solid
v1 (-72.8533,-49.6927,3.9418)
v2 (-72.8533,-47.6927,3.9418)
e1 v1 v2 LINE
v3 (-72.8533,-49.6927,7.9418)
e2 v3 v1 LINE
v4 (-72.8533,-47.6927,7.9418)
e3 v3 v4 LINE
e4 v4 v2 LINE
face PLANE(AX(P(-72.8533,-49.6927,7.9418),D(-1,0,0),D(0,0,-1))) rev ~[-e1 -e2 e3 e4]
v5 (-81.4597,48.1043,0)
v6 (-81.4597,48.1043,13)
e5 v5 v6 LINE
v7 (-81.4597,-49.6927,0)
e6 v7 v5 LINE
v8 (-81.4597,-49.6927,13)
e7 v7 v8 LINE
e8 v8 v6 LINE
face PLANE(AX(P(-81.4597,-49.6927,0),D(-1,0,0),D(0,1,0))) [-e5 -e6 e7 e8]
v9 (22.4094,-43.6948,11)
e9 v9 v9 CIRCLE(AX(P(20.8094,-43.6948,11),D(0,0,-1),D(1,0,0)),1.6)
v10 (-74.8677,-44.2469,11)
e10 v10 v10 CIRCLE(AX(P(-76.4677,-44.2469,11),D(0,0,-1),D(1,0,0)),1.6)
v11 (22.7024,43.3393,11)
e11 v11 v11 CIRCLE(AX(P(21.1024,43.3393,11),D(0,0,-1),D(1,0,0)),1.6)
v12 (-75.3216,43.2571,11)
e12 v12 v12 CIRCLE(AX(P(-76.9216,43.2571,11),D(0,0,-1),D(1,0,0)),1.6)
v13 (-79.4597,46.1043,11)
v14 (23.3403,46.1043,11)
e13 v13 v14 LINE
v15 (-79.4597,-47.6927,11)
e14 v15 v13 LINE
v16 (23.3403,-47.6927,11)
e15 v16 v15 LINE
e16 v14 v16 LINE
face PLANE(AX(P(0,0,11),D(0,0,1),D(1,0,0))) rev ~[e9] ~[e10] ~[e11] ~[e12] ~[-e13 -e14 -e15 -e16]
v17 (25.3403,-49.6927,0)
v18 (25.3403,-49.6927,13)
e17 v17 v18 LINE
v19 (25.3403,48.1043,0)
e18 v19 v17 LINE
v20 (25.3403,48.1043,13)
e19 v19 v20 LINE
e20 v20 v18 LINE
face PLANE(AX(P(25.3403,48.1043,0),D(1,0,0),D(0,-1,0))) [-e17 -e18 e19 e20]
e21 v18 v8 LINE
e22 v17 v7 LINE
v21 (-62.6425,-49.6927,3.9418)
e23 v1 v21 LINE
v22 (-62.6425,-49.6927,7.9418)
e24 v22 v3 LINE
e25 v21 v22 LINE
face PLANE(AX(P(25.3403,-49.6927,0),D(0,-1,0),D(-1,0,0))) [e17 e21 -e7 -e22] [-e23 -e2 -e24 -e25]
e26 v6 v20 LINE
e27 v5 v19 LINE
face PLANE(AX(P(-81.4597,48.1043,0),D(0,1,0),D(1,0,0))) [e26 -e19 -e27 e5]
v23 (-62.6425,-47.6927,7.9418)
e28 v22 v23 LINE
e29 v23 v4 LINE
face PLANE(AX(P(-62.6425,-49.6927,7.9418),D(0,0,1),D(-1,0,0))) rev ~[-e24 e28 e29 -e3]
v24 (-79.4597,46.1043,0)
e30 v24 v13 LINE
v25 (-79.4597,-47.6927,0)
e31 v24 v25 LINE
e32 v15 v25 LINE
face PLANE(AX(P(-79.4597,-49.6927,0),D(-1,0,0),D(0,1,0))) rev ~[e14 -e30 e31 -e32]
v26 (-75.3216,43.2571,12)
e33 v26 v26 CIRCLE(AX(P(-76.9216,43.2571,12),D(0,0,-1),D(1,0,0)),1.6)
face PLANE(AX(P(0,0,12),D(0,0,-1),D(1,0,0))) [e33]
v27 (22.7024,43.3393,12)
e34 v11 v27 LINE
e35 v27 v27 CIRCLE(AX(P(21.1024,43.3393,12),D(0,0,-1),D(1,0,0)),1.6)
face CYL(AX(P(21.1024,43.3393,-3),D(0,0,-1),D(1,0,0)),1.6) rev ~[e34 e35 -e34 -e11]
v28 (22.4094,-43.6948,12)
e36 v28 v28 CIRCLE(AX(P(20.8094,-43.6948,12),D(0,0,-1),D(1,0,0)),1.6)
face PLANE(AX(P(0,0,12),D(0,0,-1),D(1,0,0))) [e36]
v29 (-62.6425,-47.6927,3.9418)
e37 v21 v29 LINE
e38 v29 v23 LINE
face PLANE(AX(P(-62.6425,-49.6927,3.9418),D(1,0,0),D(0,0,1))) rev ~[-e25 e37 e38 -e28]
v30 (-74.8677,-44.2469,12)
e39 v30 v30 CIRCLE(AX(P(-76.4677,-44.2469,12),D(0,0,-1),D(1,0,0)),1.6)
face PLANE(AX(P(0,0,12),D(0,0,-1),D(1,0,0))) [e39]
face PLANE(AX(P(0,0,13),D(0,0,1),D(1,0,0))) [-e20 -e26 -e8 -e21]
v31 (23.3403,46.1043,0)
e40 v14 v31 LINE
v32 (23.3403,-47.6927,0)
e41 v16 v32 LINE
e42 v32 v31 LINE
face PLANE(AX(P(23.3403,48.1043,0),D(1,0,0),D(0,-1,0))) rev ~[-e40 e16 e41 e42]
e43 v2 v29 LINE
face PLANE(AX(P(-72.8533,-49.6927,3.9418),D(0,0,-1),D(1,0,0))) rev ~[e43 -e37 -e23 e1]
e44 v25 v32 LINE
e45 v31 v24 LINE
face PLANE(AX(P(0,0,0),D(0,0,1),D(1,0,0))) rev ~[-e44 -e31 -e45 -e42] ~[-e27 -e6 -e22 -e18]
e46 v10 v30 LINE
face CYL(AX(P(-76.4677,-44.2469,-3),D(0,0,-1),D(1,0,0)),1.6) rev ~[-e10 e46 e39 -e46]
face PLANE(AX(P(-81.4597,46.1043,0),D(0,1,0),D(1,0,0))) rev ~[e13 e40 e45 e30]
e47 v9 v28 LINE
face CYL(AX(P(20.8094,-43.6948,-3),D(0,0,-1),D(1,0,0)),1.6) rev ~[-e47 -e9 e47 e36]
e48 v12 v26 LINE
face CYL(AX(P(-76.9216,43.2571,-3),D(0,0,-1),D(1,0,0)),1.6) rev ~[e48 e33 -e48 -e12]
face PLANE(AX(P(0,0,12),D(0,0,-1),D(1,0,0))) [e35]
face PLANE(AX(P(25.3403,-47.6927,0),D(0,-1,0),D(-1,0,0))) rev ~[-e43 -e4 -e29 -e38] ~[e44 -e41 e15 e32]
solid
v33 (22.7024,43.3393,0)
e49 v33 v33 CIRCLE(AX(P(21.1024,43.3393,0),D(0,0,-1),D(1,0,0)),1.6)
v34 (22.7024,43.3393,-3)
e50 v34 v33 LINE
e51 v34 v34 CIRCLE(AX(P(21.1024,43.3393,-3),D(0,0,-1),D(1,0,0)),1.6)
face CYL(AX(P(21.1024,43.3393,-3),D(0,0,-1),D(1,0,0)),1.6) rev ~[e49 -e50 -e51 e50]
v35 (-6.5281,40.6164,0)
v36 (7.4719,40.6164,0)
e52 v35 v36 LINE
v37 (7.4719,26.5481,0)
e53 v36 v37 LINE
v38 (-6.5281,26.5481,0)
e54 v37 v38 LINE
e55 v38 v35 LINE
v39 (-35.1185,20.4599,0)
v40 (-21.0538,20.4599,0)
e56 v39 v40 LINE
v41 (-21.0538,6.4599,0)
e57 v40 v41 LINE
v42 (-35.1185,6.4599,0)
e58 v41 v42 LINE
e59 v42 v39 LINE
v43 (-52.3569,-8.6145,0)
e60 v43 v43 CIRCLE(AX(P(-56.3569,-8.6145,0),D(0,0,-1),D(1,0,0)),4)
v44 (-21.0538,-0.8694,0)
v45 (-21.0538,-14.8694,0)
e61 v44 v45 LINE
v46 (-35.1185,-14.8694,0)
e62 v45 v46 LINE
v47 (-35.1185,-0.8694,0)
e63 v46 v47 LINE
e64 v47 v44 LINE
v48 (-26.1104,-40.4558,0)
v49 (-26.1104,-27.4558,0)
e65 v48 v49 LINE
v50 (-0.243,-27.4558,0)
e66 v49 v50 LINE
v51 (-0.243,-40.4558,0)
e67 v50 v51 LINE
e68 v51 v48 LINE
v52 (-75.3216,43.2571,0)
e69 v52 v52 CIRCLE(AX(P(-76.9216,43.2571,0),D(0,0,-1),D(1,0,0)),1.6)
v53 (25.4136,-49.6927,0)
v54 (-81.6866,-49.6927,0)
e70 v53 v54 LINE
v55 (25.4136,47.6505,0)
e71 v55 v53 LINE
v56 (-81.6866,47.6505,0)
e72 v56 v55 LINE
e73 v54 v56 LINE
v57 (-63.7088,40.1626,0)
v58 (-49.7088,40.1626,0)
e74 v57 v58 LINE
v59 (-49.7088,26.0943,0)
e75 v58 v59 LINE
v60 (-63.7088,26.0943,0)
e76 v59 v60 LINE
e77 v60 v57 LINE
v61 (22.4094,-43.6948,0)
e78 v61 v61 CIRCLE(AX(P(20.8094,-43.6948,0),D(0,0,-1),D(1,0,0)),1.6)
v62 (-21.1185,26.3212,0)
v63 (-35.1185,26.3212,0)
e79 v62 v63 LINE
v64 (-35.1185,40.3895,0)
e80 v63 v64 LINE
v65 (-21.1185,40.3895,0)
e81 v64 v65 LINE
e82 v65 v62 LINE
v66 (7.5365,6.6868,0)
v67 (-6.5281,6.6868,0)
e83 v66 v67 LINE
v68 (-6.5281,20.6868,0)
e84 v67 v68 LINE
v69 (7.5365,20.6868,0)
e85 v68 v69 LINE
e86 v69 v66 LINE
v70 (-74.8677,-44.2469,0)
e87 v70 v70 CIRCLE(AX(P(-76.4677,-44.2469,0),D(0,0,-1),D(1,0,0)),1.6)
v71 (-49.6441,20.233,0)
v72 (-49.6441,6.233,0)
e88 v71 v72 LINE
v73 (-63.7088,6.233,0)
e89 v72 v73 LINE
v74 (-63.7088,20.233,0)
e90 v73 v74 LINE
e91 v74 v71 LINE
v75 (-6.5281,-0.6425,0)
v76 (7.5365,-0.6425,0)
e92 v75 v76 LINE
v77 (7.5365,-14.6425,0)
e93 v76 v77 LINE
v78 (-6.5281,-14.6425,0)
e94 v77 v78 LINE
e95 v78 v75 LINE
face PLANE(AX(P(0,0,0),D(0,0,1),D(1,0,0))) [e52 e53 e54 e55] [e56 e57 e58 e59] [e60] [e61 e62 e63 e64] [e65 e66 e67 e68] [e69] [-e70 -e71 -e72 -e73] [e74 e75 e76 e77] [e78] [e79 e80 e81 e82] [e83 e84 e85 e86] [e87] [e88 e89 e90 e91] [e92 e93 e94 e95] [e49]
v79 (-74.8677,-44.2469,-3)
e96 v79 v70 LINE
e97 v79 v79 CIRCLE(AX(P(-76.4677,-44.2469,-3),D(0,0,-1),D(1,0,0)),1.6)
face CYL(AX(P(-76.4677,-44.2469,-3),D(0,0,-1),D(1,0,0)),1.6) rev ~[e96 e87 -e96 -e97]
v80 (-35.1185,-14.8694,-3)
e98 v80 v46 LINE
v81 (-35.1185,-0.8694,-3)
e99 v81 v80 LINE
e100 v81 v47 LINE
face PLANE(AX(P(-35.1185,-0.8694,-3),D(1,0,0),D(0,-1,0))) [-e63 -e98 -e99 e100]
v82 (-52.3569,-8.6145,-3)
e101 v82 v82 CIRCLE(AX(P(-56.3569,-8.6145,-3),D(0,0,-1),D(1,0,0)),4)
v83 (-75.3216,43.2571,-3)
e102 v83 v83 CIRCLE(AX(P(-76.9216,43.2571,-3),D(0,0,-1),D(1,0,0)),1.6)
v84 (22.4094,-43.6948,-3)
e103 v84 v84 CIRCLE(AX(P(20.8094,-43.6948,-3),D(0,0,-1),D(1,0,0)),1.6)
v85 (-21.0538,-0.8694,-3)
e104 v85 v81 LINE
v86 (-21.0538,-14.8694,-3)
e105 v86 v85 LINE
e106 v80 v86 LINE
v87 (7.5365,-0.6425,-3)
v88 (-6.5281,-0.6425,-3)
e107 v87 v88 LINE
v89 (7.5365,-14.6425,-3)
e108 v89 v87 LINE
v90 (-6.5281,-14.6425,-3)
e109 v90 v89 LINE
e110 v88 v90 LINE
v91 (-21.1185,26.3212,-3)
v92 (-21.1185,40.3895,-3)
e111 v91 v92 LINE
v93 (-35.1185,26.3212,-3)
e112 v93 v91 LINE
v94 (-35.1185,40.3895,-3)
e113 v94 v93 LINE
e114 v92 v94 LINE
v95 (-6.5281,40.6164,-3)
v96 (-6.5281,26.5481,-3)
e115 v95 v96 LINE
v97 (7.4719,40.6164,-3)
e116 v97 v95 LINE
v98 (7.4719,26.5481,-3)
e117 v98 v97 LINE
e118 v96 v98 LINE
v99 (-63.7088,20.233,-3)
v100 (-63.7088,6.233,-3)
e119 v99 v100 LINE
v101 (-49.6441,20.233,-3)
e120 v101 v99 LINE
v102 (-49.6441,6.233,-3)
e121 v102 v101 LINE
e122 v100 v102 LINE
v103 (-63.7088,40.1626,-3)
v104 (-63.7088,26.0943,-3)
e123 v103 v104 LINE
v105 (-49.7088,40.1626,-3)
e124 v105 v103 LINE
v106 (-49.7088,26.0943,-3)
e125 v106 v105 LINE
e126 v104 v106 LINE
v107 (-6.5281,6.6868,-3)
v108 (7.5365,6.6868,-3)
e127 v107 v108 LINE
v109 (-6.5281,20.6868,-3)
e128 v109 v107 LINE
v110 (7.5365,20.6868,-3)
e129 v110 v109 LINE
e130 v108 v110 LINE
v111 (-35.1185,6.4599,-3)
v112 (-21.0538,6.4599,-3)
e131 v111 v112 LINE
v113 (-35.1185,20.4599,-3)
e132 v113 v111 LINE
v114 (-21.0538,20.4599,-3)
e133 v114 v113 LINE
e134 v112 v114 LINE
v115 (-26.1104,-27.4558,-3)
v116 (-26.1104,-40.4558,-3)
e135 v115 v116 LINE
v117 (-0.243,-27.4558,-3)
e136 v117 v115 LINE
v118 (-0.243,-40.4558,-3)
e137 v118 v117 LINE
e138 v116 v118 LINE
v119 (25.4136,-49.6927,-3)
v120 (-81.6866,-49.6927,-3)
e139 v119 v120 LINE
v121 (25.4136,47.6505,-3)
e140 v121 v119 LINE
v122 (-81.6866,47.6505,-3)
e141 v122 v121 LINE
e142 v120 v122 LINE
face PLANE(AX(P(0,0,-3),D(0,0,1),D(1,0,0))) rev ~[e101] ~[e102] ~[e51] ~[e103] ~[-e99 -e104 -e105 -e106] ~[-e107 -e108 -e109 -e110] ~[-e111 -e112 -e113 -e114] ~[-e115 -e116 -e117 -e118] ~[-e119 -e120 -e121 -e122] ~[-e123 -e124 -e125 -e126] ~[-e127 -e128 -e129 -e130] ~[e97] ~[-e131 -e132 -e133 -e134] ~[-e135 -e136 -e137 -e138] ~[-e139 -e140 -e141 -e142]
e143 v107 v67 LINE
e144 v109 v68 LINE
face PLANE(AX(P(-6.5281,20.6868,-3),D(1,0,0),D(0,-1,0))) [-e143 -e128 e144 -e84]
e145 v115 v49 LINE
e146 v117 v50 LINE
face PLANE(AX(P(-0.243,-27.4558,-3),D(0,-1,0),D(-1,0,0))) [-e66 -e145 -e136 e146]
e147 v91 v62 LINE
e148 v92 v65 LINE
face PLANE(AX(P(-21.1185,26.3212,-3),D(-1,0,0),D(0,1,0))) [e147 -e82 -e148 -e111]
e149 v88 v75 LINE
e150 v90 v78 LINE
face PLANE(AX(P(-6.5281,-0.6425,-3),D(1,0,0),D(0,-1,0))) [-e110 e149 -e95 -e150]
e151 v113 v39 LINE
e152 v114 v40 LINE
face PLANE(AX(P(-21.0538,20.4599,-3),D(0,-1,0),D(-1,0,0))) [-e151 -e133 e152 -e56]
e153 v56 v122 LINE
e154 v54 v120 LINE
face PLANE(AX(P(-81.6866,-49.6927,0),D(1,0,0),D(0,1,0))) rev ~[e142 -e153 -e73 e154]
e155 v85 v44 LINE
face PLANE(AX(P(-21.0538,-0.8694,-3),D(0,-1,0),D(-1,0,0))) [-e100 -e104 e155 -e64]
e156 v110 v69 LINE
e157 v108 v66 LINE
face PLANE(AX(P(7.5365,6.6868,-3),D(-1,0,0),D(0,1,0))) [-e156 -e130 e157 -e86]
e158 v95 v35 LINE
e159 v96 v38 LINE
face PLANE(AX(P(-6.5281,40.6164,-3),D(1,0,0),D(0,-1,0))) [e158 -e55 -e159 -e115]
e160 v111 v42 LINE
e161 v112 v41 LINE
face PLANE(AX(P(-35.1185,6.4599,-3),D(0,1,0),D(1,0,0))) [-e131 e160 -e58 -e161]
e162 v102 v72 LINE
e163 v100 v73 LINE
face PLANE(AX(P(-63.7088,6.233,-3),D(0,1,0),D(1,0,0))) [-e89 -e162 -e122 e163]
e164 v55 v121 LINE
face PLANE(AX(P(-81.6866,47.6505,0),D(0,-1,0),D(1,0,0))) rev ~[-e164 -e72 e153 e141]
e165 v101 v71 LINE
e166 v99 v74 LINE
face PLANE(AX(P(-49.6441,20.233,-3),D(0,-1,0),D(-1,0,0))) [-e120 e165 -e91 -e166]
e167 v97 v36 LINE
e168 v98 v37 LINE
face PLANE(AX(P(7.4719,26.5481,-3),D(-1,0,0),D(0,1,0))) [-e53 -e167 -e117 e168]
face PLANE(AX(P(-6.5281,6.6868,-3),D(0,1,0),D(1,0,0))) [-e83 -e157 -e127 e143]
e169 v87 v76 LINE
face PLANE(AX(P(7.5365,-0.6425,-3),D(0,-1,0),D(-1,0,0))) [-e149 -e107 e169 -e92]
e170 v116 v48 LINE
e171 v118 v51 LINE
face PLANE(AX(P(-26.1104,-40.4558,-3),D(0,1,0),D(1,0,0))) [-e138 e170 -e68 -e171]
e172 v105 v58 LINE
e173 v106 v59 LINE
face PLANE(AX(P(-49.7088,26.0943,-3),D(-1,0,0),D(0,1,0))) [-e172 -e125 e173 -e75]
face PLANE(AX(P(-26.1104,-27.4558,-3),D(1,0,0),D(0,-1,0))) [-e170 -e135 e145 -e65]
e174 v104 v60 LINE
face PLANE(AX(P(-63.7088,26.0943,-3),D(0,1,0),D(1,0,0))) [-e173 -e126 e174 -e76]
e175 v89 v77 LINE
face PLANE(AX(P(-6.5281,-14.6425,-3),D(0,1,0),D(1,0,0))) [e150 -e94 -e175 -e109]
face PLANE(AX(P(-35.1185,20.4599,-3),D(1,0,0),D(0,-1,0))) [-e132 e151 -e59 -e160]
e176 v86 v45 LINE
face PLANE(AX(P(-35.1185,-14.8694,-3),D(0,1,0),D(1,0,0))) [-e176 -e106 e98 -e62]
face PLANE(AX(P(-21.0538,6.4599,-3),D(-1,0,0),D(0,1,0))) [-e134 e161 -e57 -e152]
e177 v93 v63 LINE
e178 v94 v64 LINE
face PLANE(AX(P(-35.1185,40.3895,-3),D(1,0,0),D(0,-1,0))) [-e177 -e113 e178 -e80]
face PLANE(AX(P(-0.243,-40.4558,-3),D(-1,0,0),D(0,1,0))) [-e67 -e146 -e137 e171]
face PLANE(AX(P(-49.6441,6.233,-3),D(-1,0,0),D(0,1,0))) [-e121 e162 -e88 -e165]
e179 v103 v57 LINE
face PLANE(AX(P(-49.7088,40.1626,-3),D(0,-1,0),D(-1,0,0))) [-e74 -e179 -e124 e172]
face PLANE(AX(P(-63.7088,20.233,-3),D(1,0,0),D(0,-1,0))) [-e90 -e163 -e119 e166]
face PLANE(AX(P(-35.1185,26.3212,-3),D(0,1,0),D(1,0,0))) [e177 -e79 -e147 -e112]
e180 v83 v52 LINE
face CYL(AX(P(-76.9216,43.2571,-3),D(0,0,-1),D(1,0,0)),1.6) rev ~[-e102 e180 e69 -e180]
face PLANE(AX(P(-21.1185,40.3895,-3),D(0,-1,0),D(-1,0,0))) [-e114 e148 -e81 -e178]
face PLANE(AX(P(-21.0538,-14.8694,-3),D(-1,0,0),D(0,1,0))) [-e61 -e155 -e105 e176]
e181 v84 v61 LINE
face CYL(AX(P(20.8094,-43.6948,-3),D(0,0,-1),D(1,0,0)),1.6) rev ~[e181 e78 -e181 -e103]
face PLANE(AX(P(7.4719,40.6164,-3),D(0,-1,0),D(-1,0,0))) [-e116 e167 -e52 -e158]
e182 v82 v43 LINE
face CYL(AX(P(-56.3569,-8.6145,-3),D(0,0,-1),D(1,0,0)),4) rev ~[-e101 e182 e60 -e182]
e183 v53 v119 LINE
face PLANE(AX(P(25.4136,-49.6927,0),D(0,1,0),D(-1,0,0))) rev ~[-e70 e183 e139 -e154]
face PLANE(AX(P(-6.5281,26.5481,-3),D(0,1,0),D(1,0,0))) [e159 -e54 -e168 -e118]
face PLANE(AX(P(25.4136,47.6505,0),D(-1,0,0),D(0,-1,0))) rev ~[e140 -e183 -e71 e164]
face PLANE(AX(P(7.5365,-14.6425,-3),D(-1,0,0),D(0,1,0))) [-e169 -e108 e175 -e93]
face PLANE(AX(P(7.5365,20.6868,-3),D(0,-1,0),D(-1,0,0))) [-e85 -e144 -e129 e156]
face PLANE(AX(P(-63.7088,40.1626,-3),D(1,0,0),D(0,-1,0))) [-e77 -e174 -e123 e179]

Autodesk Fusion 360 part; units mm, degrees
sketch "Sketch1" plane through (0, 0, 0) normal (0, 0, 1) x (1, 0, 0)
  line L0 (-81.4597, 48.1043) -> (25.3403, 48.1043)
  line L1 (25.3403, 48.1043) -> (25.3403, -49.6927)
  line L2 (25.3403, -49.6927) -> (-81.4597, -49.6927)
  line L3 (-81.4597, -49.6927) -> (-81.4597, 48.1043)
  dimension "d1" = 106.8
extrude "Extrude1" add sketch "Sketch1" along normal blind 13 makes body 1
shell "Shell1" thickness 2 removed faces 1 at (-45.8597, 15.5053, 0) on bodies 1
sketch "Sketch2" plane through (0, 0, 0) normal (0, 0, 1) x (1, 0, 0)
  line L0 (-81.6866, 47.6505) -> (25.4136, 47.6505)
  line L1 (25.4136, 47.6505) -> (25.4136, -49.6927)
  line L2 (25.4136, -49.6927) -> (-81.6866, -49.6927)
  line L3 (-81.6866, -49.6927) -> (-81.6866, 47.6505)
extrude "Extrude2" add sketch "Sketch2" against normal blind 3 separate body makes body 2
sketch "Sketch3" plane through (0, 0, -3) normal (0, 0, -1) x (1, 0, 0)
  line L0 (25.4136, 49.6927) -> (-81.6866, 49.6927)
  line L1 (-81.6866, 49.6927) -> (-81.6866, -47.6505)
  line L2 (-81.6866, -47.6505) -> (25.4136, -47.6505)
  line L3 (25.4136, -47.6505) -> (25.4136, 49.6927)
  line L4 (7.4719, -40.6164) -> (-6.5281, -40.6164)
  line L5 (-6.5281, -40.6164) -> (-6.5281, -26.5481)
  line L6 (-6.5281, -26.5481) -> (7.4719, -26.5481)
  line L7 (7.4719, -26.5481) -> (7.4719, -40.6164)
  line L8 (7.5365, -20.6868) -> (-6.5281, -20.6868)
  line L9 (-6.5281, -20.6868) -> (-6.5281, -6.6868)
  line L10 (-6.5281, -6.6868) -> (7.5365, -6.6868)
  line L11 (7.5365, -6.6868) -> (7.5365, -20.6868)
  line L12 (7.5365, 0.6425) -> (-6.5281, 0.6425)
  line L13 (-6.5281, 0.6425) -> (-6.5281, 14.6425)
  line L14 (-6.5281, 14.6425) -> (7.5365, 14.6425)
  line L15 (7.5365, 14.6425) -> (7.5365, 0.6425)
  line L16 (-21.1185, -40.3895) -> (-35.1185, -40.3895)
  line L17 (-21.0538, 14.8694) -> (-21.0538, 0.8694)
  line L18 (-35.1185, -20.4599) -> (-35.1185, -6.4599)
  line L19 (-21.1185, -26.3212) -> (-21.1185, -40.3895)
  line L20 (-35.1185, 14.8694) -> (-21.0538, 14.8694)
  line L21 (-21.0538, -20.4599) -> (-35.1185, -20.4599)
  line L22 (-21.0538, 0.8694) -> (-35.1185, 0.8694)
  line L23 (-21.0538, -6.4599) -> (-21.0538, -20.4599)
  line L24 (-35.1185, -26.3212) -> (-21.1185, -26.3212)
  line L25 (-35.1185, -6.4599) -> (-21.0538, -6.4599)
  line L26 (-35.1185, 0.8694) -> (-35.1185, 14.8694)
  line L27 (-35.1185, -40.3895) -> (-35.1185, -26.3212)
  line L28 (7.4719, -40.6164) -> (-6.5281, -40.6164)
  line L29 (7.5365, 14.6425) -> (7.5365, 0.6425)
  line L30 (-6.5281, -20.6868) -> (-6.5281, -6.6868)
  line L31 (7.4719, -26.5481) -> (7.4719, -40.6164)
  line L32 (-6.5281, 14.6425) -> (7.5365, 14.6425)
  line L33 (7.5365, -20.6868) -> (-6.5281, -20.6868)
  line L34 (7.5365, 0.6425) -> (-6.5281, 0.6425)
  line L35 (7.5365, -6.6868) -> (7.5365, -20.6868)
  line L36 (-6.5281, -26.5481) -> (7.4719, -26.5481)
  line L37 (-6.5281, -6.6868) -> (7.5365, -6.6868)
  line L38 (-6.5281, 0.6425) -> (-6.5281, 14.6425)
  line L39 (-6.5281, -40.6164) -> (-6.5281, -26.5481)
  line L40 (-49.7088, -40.1626) -> (-63.7088, -40.1626)
  line L41 (-63.7088, -20.233) -> (-63.7088, -6.233)
  line L42 (-49.7088, -26.0943) -> (-49.7088, -40.1626)
  line L43 (-49.6441, -20.233) -> (-63.7088, -20.233)
  line L44 (-49.6441, -6.233) -> (-49.6441, -20.233)
  line L45 (-63.7088, -26.0943) -> (-49.7088, -26.0943)
  line L46 (-63.7088, -6.233) -> (-49.6441, -6.233)
  line L47 (-63.7088, -40.1626) -> (-63.7088, -26.0943)
  dimension "d7" = 14
  dimension "d8" = 14
  dimension "d9" = 14
  dimension "d10" = 14
  dimension "d11" = 14
  dimension "d12" = 14
  dimension "d13" = 14
  dimension "d14" = 14
  dimension "d15" = 14
  dimension "d16" = 14
  dimension "d17" = 14
sketch "Sketch4" plane through (0, 0, -3) normal (0, 0, -1) x (1, 0, 0)
  circle A0 centre (-56.3569, 8.6145) radius 4
  dimension "d19" = 8
extrude "Extrude3" cut sketch "Sketch3" sketch "Sketch4" against normal blind 5 contours L4 L5 L6 L7 L28 L31 L36 L39 | L8 L9 L10 L11 L30 L33 L35 L37 | L12 L13 L14 L15 L29 L32 L34 L38 | L16 L19 L24 L27 | L17 L20 L22 L26 | L18 L21 L23 L25 | L40 L42 L45 L47 | L41 L43 L44 L46 of sketch 2 bodies 2
sketch "Sketch5" plane through (0, 0, -3) normal (0, 0, -1) x (1, 0, 0)
  line L0 (25.4136, 49.6927) -> (-81.6866, 49.6927)
  line L1 (-81.6866, 49.6927) -> (-81.6866, -47.6505)
  line L2 (-81.6866, -47.6505) -> (25.4136, -47.6505)
  line L3 (25.4136, -47.6505) -> (25.4136, 49.6927)
  circle A0 centre (-56.3569, 8.6145) radius 4
  line L4 (7.5365, -20.6868) -> (-6.5281, -20.6868)
  line L5 (-6.5281, -20.6868) -> (-6.5281, -6.6868)
  line L6 (-6.5281, -6.6868) -> (7.5365, -6.6868)
  line L7 (7.5365, -6.6868) -> (7.5365, -20.6868)
  line L8 (-21.1185, -26.3212) -> (-21.1185, -40.3895)
  line L9 (-21.1185, -40.3895) -> (-35.1185, -40.3895)
  line L10 (-35.1185, -40.3895) -> (-35.1185, -26.3212)
  line L11 (-35.1185, -26.3212) -> (-21.1185, -26.3212)
  line L12 (7.5365, 14.6425) -> (7.5365, 0.6425)
  line L13 (7.5365, 0.6425) -> (-6.5281, 0.6425)
  line L14 (-6.5281, 0.6425) -> (-6.5281, 14.6425)
  line L15 (-6.5281, 14.6425) -> (7.5365, 14.6425)
  line L16 (-49.7088, -26.0943) -> (-49.7088, -40.1626)
  line L17 (-49.7088, -40.1626) -> (-63.7088, -40.1626)
  line L18 (-63.7088, -40.1626) -> (-63.7088, -26.0943)
  line L19 (-63.7088, -26.0943) -> (-49.7088, -26.0943)
  line L20 (-21.0538, 14.8694) -> (-21.0538, 0.8694)
  line L21 (-21.0538, 0.8694) -> (-35.1185, 0.8694)
  line L22 (-35.1185, 0.8694) -> (-35.1185, 14.8694)
  line L23 (-35.1185, 14.8694) -> (-21.0538, 14.8694)
  line L24 (-21.0538, -20.4599) -> (-35.1185, -20.4599)
  line L25 (-35.1185, -20.4599) -> (-35.1185, -6.4599)
  line L26 (-35.1185, -6.4599) -> (-21.0538, -6.4599)
  line L27 (-21.0538, -6.4599) -> (-21.0538, -20.4599)
  line L28 (7.4719, -26.5481) -> (7.4719, -40.6164)
  line L29 (7.4719, -40.6164) -> (-6.5281, -40.6164)
  line L30 (-6.5281, -40.6164) -> (-6.5281, -26.5481)
  line L31 (-6.5281, -26.5481) -> (7.4719, -26.5481)
  line L32 (-49.6441, -20.233) -> (-63.7088, -20.233)
  line L33 (-63.7088, -20.233) -> (-63.7088, -6.233)
  line L34 (-63.7088, -6.233) -> (-49.6441, -6.233)
  line L35 (-49.6441, -6.233) -> (-49.6441, -20.233)
  line L36 (-0.243, 27.4558) -> (-26.1104, 27.4558)
  line L37 (-26.1104, 27.4558) -> (-26.1104, 40.4558)
  line L38 (-26.1104, 40.4558) -> (-0.243, 40.4558)
  line L39 (-0.243, 40.4558) -> (-0.243, 27.4558)
  dimension "d22" = 13
extrude "Extrude4" cut sketch "Sketch5" against normal blind 5 contours L36 L37 L38 L39 bodies 2
sketch "Sketch6" plane through (0, 0, -3) normal (0, 0, -1) x (1, 0, 0)
  line L0 (-49.6441, -20.233) -> (-63.7088, -20.233)
  line L1 (-63.7088, -20.233) -> (-63.7088, -6.233)
  line L2 (-63.7088, -6.233) -> (-49.6441, -6.233)
  line L3 (-49.6441, -6.233) -> (-49.6441, -20.233)
  line L4 (7.4719, -26.5481) -> (7.4719, -40.6164)
  line L5 (7.4719, -40.6164) -> (-6.5281, -40.6164)
  line L6 (-6.5281, -40.6164) -> (-6.5281, -26.5481)
  line L7 (-6.5281, -26.5481) -> (7.4719, -26.5481)
  line L8 (-21.0538, -20.4599) -> (-35.1185, -20.4599)
  line L9 (-35.1185, -20.4599) -> (-35.1185, -6.4599)
  line L10 (-35.1185, -6.4599) -> (-21.0538, -6.4599)
  line L11 (-21.0538, -6.4599) -> (-21.0538, -20.4599)
  line L12 (-21.0538, 14.8694) -> (-21.0538, 0.8694)
  line L13 (-21.0538, 0.8694) -> (-35.1185, 0.8694)
  line L14 (-35.1185, 0.8694) -> (-35.1185, 14.8694)
  line L15 (-35.1185, 14.8694) -> (-21.0538, 14.8694)
  line L16 (-49.7088, -26.0943) -> (-49.7088, -40.1626)
  line L17 (-49.7088, -40.1626) -> (-63.7088, -40.1626)
  line L18 (-63.7088, -40.1626) -> (-63.7088, -26.0943)
  line L19 (-63.7088, -26.0943) -> (-49.7088, -26.0943)
  line L20 (7.5365, 14.6425) -> (7.5365, 0.6425)
  line L21 (7.5365, 0.6425) -> (-6.5281, 0.6425)
  line L22 (-6.5281, 0.6425) -> (-6.5281, 14.6425)
  line L23 (-6.5281, 14.6425) -> (7.5365, 14.6425)
  line L24 (-21.1185, -26.3212) -> (-21.1185, -40.3895)
  line L25 (-21.1185, -40.3895) -> (-35.1185, -40.3895)
  line L26 (-35.1185, -40.3895) -> (-35.1185, -26.3212)
  line L27 (-35.1185, -26.3212) -> (-21.1185, -26.3212)
  line L28 (7.5365, -20.6868) -> (-6.5281, -20.6868)
  line L29 (-6.5281, -20.6868) -> (-6.5281, -6.6868)
  line L30 (-6.5281, -6.6868) -> (7.5365, -6.6868)
  line L31 (7.5365, -6.6868) -> (7.5365, -20.6868)
  circle A0 centre (-56.3569, 8.6145) radius 4
  line L32 (25.4136, 49.6927) -> (-81.6866, 49.6927)
  line L33 (-81.6866, 49.6927) -> (-81.6866, -47.6505)
  line L34 (-81.6866, -47.6505) -> (25.4136, -47.6505)
  line L35 (25.4136, -47.6505) -> (25.4136, 49.6927)
  line L36 (-26.1104, 27.4558) -> (-26.1104, 40.4558)
  line L37 (-26.1104, 40.4558) -> (-0.243, 40.4558)
  line L38 (-0.243, 40.4558) -> (-0.243, 27.4558)
  line L39 (-0.243, 27.4558) -> (-26.1104, 27.4558)
sketch "Sketch7" plane through (0, 0, -3) normal (0, 0, -1) x (1, 0, 0)
sketch "Sketch8" plane through (0, 0, -3) normal (0, 0, -1) x (1, 0, 0)
sketch "Sketch9" plane through (0, -49.6927, 0) normal (0, -1, 0) x (1, 0, 0)
  line L0 (-81.4597, 0) -> (25.3403, 0)
  line L1 (25.3403, 0) -> (25.3403, 13)
  line L2 (25.3403, 13) -> (-81.4597, 13)
  line L3 (-81.4597, 13) -> (-81.4597, 0)
  line L4 (-62.6425, 7.9418) -> (-72.8533, 7.9418)
  line L5 (-72.8533, 7.9418) -> (-72.8533, 3.9418)
  line L6 (-72.8533, 3.9418) -> (-62.6425, 3.9418)
  line L7 (-62.6425, 3.9418) -> (-62.6425, 7.9418)
  dimension "d26" = 4
extrude "Extrude5" cut sketch "Sketch9" against normal blind 5 contours L4 L5 L6 L7 bodies 1
sketch "Sketch10" plane through (0, 0, -3) normal (0, 0, -1) x (1, 0, 0)
  circle A0 centre (-76.6946, -42.8855) radius 1.6
  circle A1 centre (-76.6946, 44.1487) radius 1.6
  circle A2 centre (20.5825, -42.8855) radius 1.6
  circle A3 centre (20.8094, 43.6948) radius 1.6
  dimension "d29" = 3.2
  dimension "d30" = 3.2
  dimension "d31" = 3.2
  dimension "d32" = 3.2
extrude "Extrude6" cut sketch "Sketch10" against normal blind 15 contours A3 bodies 1 2
sketch "Sketch11" plane through (0, 0, -3) normal (0, 0, -1) x (1, 0, 0)
  circle A0 centre (-76.9216, -43.2571) radius 1.6
  point P0 (-76.9216, -43.2571)
  point P1 (-76.9216, 44.9276)
  point P2 (21.2632, -43.0302)
  dimension "d35" = 3.2
extrude "Extrude7" cut sketch "Sketch11" against normal blind 15 bodies 1 2
sketch "Sketch12" plane through (0, 0, -3) normal (0, 0, -1) x (1, 0, 0)
  circle A0 centre (21.1024, -43.3393) radius 1.6
  dimension "d38" = 3.2
extrude "Extrude8" cut sketch "Sketch12" against normal blind 15 bodies 1 2
sketch "Sketch13" plane through (0, 0, -3) normal (0, 0, -1) x (1, 0, 0)
  circle A0 centre (-76.4677, 44.2469) radius 1.6
  dimension "d41" = 3.2
extrude "Extrude9" cut sketch "Sketch13" against normal blind 15 bodies 1 2
